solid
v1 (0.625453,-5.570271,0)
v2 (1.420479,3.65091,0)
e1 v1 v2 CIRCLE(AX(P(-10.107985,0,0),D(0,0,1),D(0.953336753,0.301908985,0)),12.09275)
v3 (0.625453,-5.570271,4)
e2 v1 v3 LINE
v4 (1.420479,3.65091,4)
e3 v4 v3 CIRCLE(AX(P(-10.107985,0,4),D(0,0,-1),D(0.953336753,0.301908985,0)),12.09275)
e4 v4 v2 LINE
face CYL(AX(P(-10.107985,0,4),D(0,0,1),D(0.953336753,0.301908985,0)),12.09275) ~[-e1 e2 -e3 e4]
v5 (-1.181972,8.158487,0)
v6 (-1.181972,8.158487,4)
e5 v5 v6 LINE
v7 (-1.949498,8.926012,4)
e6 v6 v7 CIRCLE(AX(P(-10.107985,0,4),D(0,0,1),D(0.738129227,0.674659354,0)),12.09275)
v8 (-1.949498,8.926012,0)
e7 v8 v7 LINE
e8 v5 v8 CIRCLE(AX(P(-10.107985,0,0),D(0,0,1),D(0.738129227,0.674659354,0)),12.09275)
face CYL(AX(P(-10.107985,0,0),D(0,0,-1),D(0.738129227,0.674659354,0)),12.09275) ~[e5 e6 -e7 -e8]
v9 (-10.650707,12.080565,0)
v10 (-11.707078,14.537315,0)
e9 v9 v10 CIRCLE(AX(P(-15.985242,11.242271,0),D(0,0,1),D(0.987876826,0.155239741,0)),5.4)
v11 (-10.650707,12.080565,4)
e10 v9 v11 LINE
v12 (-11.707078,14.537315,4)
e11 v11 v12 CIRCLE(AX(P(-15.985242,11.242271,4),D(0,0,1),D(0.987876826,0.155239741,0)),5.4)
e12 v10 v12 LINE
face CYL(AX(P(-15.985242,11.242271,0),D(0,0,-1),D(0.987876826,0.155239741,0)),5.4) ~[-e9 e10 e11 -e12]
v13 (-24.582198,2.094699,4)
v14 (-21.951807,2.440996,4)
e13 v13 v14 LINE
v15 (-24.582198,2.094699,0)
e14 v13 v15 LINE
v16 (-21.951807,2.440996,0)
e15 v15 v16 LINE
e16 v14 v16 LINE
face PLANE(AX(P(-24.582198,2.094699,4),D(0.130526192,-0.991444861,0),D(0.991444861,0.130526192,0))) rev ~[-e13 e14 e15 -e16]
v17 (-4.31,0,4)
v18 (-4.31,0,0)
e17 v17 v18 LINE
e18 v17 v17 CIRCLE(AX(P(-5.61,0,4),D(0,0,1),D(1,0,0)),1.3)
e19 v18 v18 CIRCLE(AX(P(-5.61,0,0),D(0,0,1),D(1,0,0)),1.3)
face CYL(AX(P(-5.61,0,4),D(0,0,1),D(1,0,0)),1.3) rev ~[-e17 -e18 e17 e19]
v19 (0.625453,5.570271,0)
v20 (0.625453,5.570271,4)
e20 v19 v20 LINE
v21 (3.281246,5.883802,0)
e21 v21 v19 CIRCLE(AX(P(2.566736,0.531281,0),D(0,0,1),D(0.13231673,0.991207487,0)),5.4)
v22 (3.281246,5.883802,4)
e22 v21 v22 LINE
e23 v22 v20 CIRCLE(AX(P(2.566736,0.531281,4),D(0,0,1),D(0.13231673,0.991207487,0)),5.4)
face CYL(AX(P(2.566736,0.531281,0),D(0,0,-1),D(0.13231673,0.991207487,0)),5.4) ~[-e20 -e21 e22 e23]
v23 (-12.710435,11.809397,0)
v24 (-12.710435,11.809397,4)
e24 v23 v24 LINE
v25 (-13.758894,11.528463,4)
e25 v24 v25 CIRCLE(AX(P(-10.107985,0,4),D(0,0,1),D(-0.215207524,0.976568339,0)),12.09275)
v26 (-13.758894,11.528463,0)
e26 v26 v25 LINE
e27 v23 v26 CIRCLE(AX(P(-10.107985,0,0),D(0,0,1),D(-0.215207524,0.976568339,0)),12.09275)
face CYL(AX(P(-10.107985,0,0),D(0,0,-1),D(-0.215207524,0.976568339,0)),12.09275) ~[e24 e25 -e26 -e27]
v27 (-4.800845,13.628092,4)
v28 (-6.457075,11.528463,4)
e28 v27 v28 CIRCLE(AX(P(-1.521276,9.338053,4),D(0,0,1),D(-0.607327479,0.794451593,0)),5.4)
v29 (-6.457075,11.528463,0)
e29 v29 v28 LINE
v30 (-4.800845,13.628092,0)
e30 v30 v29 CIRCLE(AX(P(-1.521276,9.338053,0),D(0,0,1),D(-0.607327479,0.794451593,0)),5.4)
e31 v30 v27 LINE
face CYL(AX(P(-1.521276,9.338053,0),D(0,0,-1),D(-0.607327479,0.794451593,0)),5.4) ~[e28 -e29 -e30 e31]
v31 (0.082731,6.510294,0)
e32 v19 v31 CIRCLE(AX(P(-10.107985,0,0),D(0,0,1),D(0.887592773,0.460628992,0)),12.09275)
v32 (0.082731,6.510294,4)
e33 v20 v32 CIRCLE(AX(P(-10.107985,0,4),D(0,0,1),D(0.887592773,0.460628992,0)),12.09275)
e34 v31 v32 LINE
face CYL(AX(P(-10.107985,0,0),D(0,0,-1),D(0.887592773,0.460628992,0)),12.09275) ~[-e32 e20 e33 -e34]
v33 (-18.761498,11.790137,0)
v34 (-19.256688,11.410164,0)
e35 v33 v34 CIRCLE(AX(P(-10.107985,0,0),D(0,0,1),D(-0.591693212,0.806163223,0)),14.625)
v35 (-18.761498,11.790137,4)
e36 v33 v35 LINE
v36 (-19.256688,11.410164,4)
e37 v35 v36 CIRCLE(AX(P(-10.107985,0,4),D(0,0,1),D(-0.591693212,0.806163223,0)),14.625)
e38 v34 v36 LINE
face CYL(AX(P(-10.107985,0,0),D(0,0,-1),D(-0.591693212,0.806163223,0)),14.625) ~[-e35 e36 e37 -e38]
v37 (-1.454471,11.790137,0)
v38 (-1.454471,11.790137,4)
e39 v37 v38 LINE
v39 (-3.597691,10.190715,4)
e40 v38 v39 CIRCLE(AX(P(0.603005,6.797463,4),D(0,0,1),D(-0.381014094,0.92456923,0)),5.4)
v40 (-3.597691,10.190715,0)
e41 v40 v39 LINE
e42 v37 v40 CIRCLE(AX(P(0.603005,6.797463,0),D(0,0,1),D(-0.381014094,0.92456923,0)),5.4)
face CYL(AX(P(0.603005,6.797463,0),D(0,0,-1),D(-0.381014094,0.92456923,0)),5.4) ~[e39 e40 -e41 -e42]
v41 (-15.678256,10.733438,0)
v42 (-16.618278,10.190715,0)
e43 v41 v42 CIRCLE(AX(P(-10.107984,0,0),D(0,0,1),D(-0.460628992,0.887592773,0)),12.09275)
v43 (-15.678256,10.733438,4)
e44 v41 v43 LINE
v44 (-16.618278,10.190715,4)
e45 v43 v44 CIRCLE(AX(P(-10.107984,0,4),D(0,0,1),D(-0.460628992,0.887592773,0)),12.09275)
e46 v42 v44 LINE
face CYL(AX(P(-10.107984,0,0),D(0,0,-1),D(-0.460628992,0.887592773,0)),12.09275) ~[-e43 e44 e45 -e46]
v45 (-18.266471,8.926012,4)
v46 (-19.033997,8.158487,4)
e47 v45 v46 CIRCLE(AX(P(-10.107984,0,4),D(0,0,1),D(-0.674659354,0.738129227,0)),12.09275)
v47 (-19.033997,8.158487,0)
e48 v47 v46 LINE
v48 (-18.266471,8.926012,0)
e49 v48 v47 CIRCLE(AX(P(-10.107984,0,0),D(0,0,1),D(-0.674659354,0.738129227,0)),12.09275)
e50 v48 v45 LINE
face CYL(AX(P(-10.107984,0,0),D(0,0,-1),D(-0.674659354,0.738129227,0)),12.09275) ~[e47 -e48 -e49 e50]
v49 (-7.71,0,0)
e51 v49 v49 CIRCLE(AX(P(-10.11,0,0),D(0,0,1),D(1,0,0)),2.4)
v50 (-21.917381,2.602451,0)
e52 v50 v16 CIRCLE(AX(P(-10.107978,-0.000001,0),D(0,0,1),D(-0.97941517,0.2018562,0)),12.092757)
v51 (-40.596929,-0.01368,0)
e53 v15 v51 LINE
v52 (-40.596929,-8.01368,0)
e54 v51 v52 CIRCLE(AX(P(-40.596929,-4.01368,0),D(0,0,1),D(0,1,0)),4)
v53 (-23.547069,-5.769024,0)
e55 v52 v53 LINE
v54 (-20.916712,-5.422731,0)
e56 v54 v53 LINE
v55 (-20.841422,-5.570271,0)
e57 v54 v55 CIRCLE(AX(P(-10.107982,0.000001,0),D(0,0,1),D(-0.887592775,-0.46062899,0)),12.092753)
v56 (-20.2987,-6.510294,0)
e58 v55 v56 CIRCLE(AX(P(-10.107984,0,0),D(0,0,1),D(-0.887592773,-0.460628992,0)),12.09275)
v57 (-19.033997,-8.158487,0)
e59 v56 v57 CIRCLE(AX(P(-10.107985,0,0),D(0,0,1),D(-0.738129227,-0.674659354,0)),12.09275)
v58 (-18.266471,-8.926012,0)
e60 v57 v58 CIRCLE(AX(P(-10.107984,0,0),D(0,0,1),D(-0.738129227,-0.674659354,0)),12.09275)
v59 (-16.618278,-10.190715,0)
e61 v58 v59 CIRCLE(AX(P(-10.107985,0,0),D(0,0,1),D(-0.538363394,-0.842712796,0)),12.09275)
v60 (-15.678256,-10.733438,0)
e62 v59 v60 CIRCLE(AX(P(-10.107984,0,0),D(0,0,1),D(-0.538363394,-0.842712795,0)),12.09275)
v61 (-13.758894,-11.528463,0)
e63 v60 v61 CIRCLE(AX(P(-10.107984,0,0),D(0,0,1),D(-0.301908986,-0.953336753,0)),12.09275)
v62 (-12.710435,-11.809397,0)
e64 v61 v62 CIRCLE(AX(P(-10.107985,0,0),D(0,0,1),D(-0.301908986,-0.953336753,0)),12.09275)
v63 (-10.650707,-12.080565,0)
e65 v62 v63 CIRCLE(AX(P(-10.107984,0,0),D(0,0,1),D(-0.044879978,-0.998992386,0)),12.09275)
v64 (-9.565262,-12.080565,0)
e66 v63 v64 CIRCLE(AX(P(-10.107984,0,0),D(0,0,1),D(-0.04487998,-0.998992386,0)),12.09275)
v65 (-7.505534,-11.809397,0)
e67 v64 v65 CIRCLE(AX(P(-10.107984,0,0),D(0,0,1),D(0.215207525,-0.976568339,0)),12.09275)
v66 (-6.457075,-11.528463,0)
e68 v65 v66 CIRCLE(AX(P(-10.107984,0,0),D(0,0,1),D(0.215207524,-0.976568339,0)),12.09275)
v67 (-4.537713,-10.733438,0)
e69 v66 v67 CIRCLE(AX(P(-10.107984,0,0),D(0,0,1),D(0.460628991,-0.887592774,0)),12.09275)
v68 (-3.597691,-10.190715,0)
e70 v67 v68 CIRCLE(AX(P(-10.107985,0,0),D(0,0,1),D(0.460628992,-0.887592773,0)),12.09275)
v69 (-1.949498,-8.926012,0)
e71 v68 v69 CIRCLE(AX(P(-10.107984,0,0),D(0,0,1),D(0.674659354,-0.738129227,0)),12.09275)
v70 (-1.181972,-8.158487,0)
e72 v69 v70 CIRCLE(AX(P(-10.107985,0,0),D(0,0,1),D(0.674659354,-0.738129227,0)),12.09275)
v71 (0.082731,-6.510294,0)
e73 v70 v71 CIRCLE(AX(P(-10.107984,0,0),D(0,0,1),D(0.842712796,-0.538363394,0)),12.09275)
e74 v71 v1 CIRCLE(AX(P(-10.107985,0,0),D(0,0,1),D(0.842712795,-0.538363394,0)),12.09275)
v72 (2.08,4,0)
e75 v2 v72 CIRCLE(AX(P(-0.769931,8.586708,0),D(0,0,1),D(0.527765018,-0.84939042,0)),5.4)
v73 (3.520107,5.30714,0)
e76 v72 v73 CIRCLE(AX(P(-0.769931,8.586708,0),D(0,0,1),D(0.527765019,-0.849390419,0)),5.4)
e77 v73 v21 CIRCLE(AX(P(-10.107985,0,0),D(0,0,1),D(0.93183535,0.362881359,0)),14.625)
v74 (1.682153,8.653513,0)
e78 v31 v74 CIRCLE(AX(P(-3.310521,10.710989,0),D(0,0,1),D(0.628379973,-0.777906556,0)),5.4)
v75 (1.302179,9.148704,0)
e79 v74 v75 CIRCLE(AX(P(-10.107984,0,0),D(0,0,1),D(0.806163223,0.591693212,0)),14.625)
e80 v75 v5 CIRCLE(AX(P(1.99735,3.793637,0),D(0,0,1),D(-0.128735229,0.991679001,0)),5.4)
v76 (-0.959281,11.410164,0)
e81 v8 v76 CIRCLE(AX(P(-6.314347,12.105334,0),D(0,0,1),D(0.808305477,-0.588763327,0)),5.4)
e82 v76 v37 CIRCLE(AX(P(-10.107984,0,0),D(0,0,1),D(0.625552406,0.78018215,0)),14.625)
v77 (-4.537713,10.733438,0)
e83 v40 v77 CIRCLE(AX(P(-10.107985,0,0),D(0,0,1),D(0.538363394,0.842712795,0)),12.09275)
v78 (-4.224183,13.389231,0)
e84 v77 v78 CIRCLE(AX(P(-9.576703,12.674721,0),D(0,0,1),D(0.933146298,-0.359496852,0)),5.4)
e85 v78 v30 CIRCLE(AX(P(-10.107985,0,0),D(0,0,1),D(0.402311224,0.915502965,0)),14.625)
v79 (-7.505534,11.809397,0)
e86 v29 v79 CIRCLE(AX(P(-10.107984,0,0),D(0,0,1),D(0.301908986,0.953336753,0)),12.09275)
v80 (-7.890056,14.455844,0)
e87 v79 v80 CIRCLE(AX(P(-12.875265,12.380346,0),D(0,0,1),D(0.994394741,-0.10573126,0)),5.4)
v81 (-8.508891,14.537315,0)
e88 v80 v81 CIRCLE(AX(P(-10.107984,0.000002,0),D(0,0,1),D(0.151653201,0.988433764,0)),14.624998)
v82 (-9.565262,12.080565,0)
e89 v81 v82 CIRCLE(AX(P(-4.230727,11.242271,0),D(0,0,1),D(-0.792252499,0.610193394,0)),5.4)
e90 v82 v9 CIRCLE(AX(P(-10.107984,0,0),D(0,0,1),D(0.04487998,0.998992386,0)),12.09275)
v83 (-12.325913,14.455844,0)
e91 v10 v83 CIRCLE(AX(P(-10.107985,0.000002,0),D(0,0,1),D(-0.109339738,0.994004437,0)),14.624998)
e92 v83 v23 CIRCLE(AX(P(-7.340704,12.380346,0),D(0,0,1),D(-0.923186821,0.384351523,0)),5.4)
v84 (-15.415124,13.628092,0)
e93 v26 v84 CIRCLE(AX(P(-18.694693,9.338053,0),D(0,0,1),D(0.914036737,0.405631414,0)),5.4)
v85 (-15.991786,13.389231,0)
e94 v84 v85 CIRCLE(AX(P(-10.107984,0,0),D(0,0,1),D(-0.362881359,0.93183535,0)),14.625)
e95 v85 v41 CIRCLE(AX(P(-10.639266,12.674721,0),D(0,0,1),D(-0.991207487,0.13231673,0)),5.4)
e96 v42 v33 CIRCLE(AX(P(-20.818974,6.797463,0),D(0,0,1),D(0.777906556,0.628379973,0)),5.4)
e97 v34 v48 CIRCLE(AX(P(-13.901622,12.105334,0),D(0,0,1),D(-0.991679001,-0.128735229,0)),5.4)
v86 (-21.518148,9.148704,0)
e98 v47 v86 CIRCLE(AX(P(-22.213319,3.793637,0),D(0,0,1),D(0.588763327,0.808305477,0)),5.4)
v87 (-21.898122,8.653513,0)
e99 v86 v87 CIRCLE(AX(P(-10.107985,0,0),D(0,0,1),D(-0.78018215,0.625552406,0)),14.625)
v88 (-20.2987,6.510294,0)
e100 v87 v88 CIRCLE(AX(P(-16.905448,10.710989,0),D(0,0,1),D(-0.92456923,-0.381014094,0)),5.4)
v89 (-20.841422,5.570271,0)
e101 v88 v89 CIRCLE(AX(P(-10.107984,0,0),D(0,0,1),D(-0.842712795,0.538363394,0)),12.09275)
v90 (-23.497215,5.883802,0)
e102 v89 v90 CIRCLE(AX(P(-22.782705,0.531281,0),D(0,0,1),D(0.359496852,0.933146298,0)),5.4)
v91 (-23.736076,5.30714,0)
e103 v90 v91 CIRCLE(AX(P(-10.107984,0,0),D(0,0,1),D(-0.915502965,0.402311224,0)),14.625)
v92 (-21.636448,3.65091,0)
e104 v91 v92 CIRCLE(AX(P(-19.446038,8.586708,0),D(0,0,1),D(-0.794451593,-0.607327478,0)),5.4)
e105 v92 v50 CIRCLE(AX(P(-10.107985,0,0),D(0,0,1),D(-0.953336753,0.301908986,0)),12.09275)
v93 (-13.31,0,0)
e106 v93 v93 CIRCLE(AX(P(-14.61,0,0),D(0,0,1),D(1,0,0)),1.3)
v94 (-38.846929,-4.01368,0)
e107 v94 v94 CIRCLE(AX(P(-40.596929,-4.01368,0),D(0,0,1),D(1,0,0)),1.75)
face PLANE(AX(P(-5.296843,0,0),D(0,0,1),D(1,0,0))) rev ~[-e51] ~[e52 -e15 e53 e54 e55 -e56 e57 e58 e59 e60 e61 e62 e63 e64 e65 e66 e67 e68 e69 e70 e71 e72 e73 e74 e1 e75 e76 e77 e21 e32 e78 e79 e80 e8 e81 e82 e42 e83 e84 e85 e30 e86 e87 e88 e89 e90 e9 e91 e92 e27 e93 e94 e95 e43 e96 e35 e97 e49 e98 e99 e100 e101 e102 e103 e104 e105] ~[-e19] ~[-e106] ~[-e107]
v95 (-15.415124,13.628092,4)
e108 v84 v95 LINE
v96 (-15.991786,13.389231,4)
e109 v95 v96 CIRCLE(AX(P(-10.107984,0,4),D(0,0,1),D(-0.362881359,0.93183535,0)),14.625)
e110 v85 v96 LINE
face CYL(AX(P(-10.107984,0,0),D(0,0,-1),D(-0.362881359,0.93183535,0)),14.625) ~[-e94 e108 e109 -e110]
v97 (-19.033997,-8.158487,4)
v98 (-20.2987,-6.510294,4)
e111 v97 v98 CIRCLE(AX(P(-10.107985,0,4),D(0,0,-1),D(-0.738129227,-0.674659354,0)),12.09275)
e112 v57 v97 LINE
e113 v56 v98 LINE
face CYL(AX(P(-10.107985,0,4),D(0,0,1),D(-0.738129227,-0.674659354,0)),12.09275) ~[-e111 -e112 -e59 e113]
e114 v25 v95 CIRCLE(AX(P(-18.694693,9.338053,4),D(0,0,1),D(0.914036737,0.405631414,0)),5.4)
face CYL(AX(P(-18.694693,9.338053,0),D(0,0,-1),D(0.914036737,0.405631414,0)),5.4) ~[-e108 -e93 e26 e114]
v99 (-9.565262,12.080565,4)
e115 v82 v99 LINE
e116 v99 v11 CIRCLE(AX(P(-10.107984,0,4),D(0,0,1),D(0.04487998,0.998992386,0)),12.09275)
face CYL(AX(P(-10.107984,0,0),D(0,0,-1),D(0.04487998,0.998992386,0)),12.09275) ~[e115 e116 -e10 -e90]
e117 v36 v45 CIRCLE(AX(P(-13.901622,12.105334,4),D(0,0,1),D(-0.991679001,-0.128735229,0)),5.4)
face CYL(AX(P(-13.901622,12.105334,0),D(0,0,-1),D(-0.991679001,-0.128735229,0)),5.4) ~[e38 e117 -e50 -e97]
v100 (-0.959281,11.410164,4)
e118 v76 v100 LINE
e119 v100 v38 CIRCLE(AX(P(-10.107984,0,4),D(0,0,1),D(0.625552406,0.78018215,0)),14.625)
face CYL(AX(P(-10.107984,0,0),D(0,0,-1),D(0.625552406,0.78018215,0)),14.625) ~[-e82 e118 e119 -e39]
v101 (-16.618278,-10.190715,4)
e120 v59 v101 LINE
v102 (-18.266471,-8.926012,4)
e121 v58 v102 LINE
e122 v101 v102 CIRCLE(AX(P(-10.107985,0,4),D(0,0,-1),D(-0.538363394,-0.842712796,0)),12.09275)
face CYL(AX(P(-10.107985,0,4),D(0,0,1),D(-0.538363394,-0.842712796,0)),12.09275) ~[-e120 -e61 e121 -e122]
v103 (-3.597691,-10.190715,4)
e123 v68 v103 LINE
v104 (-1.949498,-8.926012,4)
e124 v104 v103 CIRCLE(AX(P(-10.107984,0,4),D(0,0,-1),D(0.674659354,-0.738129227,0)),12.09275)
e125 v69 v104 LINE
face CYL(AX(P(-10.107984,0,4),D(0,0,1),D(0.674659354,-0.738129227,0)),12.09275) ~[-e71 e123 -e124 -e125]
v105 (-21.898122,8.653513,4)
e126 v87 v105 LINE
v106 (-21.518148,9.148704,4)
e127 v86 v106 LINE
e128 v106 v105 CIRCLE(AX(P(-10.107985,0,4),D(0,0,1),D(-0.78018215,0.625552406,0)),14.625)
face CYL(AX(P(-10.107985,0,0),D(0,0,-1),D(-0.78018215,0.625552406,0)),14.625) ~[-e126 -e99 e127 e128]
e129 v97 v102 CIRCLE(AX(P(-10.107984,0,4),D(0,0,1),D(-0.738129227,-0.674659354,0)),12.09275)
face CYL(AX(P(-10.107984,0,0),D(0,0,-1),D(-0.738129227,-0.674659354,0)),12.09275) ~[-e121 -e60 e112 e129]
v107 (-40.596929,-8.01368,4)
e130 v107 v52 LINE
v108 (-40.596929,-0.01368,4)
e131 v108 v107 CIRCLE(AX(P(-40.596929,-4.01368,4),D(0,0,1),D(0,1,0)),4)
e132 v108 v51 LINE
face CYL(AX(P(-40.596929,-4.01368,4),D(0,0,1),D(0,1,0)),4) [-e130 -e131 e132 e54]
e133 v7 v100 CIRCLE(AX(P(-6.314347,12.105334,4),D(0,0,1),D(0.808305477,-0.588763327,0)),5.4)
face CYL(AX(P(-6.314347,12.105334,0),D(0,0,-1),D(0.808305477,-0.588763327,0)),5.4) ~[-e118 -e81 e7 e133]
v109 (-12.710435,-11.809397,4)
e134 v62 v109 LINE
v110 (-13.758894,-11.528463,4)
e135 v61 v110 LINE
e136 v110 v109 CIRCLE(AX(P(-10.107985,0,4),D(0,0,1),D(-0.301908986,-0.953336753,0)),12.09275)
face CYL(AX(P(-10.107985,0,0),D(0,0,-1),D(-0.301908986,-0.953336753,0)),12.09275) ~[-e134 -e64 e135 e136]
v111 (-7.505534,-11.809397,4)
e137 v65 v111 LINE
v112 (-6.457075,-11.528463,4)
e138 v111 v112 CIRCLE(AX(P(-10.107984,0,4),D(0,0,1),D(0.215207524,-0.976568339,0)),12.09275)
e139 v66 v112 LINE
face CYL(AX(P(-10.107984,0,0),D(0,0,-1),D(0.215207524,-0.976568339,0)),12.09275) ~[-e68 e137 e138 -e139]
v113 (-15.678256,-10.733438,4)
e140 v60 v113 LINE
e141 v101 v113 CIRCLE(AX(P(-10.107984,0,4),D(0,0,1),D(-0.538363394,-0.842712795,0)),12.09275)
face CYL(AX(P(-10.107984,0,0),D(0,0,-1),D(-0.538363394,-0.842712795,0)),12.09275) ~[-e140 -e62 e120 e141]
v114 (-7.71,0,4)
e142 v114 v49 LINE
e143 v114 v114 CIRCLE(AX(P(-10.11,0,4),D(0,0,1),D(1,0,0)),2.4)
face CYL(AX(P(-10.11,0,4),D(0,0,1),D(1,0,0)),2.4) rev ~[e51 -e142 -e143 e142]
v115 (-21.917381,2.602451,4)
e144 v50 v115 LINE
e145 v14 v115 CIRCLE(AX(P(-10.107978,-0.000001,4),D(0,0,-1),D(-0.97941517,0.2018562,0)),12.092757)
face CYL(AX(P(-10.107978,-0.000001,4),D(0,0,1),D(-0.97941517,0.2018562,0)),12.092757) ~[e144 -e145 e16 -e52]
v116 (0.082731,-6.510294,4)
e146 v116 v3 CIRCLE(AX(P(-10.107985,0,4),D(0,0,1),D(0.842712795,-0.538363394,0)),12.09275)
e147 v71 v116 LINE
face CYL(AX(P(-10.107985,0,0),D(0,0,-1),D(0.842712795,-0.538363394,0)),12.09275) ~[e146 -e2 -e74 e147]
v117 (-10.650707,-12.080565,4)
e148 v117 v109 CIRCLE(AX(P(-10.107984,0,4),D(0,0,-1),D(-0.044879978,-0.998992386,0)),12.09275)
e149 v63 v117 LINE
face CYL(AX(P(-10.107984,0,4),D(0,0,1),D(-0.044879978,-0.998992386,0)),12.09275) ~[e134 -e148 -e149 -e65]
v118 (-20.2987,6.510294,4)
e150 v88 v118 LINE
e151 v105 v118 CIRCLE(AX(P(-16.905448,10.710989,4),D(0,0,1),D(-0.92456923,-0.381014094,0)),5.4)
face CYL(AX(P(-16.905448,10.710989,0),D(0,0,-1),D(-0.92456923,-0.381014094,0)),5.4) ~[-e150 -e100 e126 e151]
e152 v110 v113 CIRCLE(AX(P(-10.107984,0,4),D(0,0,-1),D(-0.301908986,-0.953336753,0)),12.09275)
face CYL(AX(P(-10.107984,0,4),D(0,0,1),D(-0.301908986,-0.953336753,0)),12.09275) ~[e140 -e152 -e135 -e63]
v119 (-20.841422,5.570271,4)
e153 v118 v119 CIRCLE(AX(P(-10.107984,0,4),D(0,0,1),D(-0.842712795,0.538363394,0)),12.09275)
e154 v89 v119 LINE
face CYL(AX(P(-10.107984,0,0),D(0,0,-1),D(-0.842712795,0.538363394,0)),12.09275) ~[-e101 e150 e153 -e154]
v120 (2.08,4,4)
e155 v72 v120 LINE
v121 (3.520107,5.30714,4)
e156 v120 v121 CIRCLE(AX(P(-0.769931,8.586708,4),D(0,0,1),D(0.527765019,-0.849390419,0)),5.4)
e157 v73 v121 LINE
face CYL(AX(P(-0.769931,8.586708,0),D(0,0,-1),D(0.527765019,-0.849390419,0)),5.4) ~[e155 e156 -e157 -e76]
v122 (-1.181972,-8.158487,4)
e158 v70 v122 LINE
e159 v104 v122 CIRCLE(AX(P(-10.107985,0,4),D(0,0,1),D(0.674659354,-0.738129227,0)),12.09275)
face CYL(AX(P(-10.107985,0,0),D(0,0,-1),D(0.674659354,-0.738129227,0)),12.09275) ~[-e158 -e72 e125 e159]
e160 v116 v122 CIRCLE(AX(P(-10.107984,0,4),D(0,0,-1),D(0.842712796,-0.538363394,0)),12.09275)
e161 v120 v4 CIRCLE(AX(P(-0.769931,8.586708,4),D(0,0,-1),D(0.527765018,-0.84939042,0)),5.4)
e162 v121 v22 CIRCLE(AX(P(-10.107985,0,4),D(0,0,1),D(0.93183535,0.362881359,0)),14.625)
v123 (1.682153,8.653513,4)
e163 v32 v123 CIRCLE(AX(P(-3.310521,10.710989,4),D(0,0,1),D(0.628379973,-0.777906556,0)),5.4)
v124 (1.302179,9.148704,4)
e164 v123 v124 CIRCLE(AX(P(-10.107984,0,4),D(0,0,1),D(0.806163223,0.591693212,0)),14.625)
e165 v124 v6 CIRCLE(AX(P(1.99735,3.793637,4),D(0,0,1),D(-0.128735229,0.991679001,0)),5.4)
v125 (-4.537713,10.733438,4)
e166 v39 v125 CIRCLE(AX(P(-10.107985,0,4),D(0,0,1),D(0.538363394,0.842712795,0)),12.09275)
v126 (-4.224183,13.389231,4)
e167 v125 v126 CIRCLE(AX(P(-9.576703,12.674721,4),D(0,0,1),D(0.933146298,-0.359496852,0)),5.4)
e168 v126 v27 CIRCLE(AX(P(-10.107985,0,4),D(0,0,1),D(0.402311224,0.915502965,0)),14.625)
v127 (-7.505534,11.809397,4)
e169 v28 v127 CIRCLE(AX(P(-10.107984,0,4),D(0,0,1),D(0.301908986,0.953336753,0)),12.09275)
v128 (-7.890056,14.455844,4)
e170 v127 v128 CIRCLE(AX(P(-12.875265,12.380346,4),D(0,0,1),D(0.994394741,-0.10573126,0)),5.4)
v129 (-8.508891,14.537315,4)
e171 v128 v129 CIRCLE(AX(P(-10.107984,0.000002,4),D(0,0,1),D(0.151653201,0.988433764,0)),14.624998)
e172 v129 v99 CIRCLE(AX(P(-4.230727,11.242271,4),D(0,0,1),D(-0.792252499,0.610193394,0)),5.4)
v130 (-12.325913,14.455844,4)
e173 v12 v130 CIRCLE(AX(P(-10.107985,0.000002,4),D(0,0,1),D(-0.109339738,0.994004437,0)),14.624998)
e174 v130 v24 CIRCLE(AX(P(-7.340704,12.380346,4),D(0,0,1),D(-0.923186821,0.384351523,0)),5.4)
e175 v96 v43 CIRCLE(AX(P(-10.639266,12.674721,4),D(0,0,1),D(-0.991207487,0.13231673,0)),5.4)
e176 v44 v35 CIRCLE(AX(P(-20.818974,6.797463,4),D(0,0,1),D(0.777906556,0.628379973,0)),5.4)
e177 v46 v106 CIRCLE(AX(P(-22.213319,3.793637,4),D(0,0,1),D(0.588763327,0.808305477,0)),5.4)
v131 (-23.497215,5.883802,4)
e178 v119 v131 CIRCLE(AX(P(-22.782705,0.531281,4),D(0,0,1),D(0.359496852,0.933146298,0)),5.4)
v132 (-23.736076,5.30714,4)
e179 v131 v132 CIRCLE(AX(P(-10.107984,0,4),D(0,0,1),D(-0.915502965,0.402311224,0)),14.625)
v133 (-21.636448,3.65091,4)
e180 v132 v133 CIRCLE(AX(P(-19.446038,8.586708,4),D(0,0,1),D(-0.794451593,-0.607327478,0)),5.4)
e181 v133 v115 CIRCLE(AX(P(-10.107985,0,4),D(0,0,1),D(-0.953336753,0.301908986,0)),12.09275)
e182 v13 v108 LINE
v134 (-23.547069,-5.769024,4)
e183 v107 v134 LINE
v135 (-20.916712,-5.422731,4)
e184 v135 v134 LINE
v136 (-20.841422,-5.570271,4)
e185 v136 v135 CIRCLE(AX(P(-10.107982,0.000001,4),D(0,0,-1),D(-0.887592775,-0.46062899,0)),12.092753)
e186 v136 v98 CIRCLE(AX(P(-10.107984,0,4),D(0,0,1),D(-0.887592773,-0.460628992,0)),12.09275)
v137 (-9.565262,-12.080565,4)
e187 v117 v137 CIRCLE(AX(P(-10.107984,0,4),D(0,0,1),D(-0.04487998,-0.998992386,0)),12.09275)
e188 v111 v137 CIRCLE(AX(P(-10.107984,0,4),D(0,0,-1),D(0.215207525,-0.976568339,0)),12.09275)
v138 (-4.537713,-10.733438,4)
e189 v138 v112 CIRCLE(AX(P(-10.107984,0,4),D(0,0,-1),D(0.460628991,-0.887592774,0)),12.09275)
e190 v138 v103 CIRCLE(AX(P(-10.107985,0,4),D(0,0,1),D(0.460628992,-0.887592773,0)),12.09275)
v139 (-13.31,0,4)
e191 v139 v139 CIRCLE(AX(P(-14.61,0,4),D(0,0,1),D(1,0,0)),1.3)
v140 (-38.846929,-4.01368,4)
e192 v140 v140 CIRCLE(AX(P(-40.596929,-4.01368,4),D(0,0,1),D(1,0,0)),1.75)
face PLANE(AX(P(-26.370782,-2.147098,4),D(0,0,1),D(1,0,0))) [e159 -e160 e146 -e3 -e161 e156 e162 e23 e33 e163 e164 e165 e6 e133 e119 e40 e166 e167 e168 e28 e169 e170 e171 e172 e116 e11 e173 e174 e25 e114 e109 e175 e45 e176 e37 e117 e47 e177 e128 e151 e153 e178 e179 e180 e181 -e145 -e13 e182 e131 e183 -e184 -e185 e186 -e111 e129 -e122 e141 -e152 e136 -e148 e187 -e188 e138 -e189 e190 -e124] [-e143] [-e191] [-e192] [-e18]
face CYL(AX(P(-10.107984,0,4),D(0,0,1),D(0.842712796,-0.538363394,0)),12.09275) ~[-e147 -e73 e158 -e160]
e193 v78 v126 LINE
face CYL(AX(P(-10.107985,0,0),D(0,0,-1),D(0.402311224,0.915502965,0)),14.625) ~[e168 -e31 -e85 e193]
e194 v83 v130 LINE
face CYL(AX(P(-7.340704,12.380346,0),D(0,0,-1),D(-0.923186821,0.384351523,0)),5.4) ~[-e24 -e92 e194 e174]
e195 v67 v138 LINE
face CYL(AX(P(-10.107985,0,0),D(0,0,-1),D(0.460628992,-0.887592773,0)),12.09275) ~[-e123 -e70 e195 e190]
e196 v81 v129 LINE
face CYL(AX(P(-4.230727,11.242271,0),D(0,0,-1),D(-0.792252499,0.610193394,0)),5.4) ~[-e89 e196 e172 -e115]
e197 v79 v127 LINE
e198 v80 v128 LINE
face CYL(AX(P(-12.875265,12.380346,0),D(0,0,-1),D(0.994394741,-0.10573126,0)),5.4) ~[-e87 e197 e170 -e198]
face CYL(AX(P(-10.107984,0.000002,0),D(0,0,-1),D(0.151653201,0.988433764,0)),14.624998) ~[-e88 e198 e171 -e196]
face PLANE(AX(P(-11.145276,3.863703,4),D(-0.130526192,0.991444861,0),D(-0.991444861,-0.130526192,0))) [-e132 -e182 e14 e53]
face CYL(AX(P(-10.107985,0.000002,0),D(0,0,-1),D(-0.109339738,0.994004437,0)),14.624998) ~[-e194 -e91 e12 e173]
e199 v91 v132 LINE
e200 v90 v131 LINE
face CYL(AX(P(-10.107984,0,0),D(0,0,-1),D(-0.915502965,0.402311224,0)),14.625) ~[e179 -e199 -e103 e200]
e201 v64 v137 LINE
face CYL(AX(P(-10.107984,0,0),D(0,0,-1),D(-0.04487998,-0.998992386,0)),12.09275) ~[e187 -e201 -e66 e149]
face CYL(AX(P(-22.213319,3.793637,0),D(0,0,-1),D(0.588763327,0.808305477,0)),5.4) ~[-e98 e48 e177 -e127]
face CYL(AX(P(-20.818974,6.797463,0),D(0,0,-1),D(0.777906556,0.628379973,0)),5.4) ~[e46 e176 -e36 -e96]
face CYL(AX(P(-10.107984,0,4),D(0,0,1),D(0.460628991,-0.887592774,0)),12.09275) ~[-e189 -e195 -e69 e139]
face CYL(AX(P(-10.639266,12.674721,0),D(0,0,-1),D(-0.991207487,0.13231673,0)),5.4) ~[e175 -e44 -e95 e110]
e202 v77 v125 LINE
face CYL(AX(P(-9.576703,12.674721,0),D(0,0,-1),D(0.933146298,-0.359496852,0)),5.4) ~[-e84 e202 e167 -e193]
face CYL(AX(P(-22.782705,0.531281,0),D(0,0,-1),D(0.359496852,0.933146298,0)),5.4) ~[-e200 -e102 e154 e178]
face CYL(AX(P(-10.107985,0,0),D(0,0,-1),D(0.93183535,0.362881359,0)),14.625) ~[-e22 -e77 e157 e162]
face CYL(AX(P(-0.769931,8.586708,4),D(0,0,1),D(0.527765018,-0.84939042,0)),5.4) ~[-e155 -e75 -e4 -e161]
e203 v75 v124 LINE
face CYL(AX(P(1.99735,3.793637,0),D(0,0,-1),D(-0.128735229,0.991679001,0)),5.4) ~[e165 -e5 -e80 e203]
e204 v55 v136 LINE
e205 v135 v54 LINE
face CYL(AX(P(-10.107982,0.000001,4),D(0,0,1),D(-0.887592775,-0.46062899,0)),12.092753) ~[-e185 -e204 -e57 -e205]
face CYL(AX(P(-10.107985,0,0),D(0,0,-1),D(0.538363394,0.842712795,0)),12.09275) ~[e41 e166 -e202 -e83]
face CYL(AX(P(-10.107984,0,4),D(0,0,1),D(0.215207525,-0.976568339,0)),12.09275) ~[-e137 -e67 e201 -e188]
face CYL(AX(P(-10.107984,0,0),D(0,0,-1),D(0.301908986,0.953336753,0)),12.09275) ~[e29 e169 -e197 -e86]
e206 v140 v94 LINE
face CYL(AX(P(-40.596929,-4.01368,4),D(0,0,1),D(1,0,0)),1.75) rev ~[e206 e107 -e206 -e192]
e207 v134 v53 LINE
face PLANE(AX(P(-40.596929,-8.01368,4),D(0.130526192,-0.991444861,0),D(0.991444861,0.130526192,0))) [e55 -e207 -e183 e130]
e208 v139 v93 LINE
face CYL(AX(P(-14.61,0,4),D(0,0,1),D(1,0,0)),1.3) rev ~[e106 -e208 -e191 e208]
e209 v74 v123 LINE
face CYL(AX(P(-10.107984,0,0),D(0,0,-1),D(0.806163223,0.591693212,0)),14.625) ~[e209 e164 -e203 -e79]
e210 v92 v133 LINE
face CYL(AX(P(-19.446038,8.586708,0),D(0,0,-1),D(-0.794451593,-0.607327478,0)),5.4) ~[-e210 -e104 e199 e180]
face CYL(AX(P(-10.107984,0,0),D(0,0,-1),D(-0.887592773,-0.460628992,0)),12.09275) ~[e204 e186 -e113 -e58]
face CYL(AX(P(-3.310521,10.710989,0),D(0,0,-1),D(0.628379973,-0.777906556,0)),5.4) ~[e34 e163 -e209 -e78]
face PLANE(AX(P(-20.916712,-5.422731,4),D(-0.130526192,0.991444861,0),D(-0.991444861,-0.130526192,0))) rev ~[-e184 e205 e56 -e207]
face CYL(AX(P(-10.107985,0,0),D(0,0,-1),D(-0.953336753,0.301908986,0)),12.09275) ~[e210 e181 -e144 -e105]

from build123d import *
from build123d.topology import SkipClean

# Parameters (mm, degrees)
SKETCH1_R           = 1.5
BOSS_EXTRUDE1_DEPTH = 4
SKETCH2_R           = 1.75
BOSS_EXTRUDE2_DEPTH = 4
CUT_EXTRUDE1_DEPTH  = 48.07674207
SKETCH4_R           = 2.4
SKETCH4_R_2         = 1.3
CUT_EXTRUDE2_DEPTH  = 48.07674207


with BuildPart() as part:
    # Sketch1 → Boss-Extrude1 (new body)
    with BuildSketch(Plane.XY):
        with BuildLine():
            Line((20.64, 4), (2.08, 4))
            ThreePointArc((2.08, 4), (2.859386397, 4.588201733), (3.5201075, 5.30713988))
            ThreePointArc((3.5201075, 5.30713988), (3.403753673, 5.596745198), (3.281246369, 5.883801663))
            ThreePointArc((3.281246369, 5.883801663), (1.933634043, 5.894040025), (0.625453025, 5.57027124))
            ThreePointArc((0.625453025, 5.57027124), (0.364644212, 6.046375), (0.082730667, 6.510293938))
            ThreePointArc((0.082730667, 6.510293938), (1.017213169, 7.48132754), (1.68215265, 8.65351323))
            ThreePointArc((1.68215265, 8.65351323), (1.494808112, 8.903135899), (1.302179463, 9.148703928))
            ThreePointArc((1.302179463, 9.148703928), (-0.002163969, 8.809805691), (-1.181972273, 8.158486898))
            ThreePointArc((-1.181972273, 8.158486898), (-1.557118962, 8.550865528), (-1.949497592, 8.926012217))
            ThreePointArc((-1.949497592, 8.926012217), (-1.298178799, 10.105820521), (-0.959280562, 11.410163953))
            ThreePointArc((-0.959280562, 11.410163953), (-1.204848591, 11.602792602), (-1.45447126, 11.79013714))
            ThreePointArc((-1.45447126, 11.79013714), (-2.62665695, 11.125197659), (-3.597690552, 10.190715157))
            ThreePointArc((-3.597690552, 10.190715157), (-4.06160949, 10.472628702), (-4.53771325, 10.733437515))
            ThreePointArc((-4.53771325, 10.733437515), (-4.213944465, 12.041618533), (-4.224182827, 13.389230859))
            ThreePointArc((-4.224182827, 13.389230859), (-4.511239292, 13.511738163), (-4.80084461, 13.62809199))
            ThreePointArc((-4.80084461, 13.62809199), (-5.760990039, 12.682425791), (-6.457074605, 11.528463019))
            ThreePointArc((-6.457074605, 11.528463019), (-6.978150482, 11.680699536), (-7.505533688, 11.809396783))
            ThreePointArc((-7.505533688, 11.809396783), (-7.531379219, 13.156800143), (-7.890056453, 14.455843809))
            ThreePointArc((-7.890056453, 14.455843809), (-8.199038929, 14.499881098), (-8.508890771, 14.537314892))
            ThreePointArc((-8.508890771, 14.537314892), (-9.191563616, 13.375367565), (-9.565262132, 12.080565177))
            ThreePointArc((-9.565262132, 12.080565177), (-10.10798449, 12.09275), (-10.650706848, 12.080565177))
            ThreePointArc((-10.650706848, 12.080565177), (-11.024405364, 13.375367565), (-11.707078209, 14.537314892))
            ThreePointArc((-11.707078209, 14.537314892), (-12.016930051, 14.499881098), (-12.325912527, 14.455843809))
            ThreePointArc((-12.325912527, 14.455843809), (-12.684589761, 13.156800143), (-12.710435292, 11.809396783))
            ThreePointArc((-12.710435292, 11.809396783), (-13.237818498, 11.680699536), (-13.758894375, 11.528463019))
            ThreePointArc((-13.758894375, 11.528463019), (-14.454978941, 12.682425791), (-15.41512437, 13.62809199))
            ThreePointArc((-15.41512437, 13.62809199), (-15.704729688, 13.511738163), (-15.991786153, 13.389230859))
            ThreePointArc((-15.991786153, 13.389230859), (-16.002024515, 12.041618533), (-15.67825573, 10.733437515))
            ThreePointArc((-15.67825573, 10.733437515), (-16.15435949, 10.472628702), (-16.618278428, 10.190715157))
            ThreePointArc((-16.618278428, 10.190715157), (-17.58931203, 11.125197659), (-18.76149772, 11.79013714))
            ThreePointArc((-18.76149772, 11.79013714), (-19.011120389, 11.602792602), (-19.256688418, 11.410163953))
            ThreePointArc((-19.256688418, 11.410163953), (-18.917790181, 10.105820521), (-18.266471388, 8.926012217))
            ThreePointArc((-18.266471388, 8.926012217), (-18.658850018, 8.550865528), (-19.033996707, 8.158486898))
            ThreePointArc((-19.033996707, 8.158486898), (-20.213805011, 8.809805691), (-21.518148443, 9.148703928))
            ThreePointArc((-21.518148443, 9.148703928), (-21.710777092, 8.903135899), (-21.89812163, 8.65351323))
            ThreePointArc((-21.89812163, 8.65351323), (-21.233182149, 7.48132754), (-20.298699647, 6.510293938))
            ThreePointArc((-20.298699647, 6.510293938), (-20.580613192, 6.046375), (-20.841422005, 5.57027124))
            ThreePointArc((-20.841422005, 5.57027124), (-22.149603023, 5.894040025), (-23.497215349, 5.883801663))
            ThreePointArc((-23.497215349, 5.883801663), (-23.619722653, 5.596745198), (-23.73607648, 5.30713988))
            ThreePointArc((-23.73607648, 5.30713988), (-22.790410282, 4.346994451), (-21.636447509, 3.650909885))
            ThreePointArc((-21.636447509, 3.650909885), (-21.788684026, 3.129834008), (-21.917381273, 2.602450802))
            ThreePointArc((-21.917381273, 2.602450802), (-23.264784633, 2.576605271), (-24.563828299, 2.217928037))
            ThreePointArc((-24.563828299, 2.217928037), (-24.607865588, 1.908945561), (-24.645299382, 1.599093719))
            ThreePointArc((-24.645299382, 1.599093719), (-23.483352055, 0.916420874), (-22.188549667, 0.542722358))
            ThreePointArc((-22.188549667, 0.542722358), (-22.20073449, 0), (-22.188549667, -0.542722358))
            ThreePointArc((-22.188549667, -0.542722358), (-23.483352055, -0.916420874), (-24.645299382, -1.599093719))
            ThreePointArc((-24.645299382, -1.599093719), (-24.607865588, -1.908945561), (-24.563828299, -2.217928037))
            ThreePointArc((-24.563828299, -2.217928037), (-23.264784633, -2.576605271), (-21.917381273, -2.602450802))
            ThreePointArc((-21.917381273, -2.602450802), (-21.788684026, -3.129834008), (-21.636447509, -3.650909885))
            ThreePointArc((-21.636447509, -3.650909885), (-22.790410282, -4.346994451), (-23.73607648, -5.30713988))
            ThreePointArc((-23.73607648, -5.30713988), (-23.619722653, -5.596745198), (-23.497215349, -5.883801663))
            ThreePointArc((-23.497215349, -5.883801663), (-22.149603023, -5.894040025), (-20.841422005, -5.57027124))
            ThreePointArc((-20.841422005, -5.57027124), (-20.580613192, -6.046375), (-20.298699647, -6.510293938))
            ThreePointArc((-20.298699647, -6.510293938), (-21.233182149, -7.48132754), (-21.89812163, -8.65351323))
            ThreePointArc((-21.89812163, -8.65351323), (-21.710777092, -8.903135899), (-21.518148443, -9.148703928))
            ThreePointArc((-21.518148443, -9.148703928), (-20.213805011, -8.809805691), (-19.033996707, -8.158486898))
            ThreePointArc((-19.033996707, -8.158486898), (-18.658850018, -8.550865528), (-18.266471388, -8.926012217))
            ThreePointArc((-18.266471388, -8.926012217), (-18.917790181, -10.105820521), (-19.256688418, -11.410163953))
            ThreePointArc((-19.256688418, -11.410163953), (-19.011120389, -11.602792602), (-18.76149772, -11.79013714))
            ThreePointArc((-18.76149772, -11.79013714), (-17.58931203, -11.125197659), (-16.618278428, -10.190715157))
            ThreePointArc((-16.618278428, -10.190715157), (-16.15435949, -10.472628702), (-15.67825573, -10.733437515))
            ThreePointArc((-15.67825573, -10.733437515), (-16.002024515, -12.041618533), (-15.991786153, -13.389230859))
            ThreePointArc((-15.991786153, -13.389230859), (-15.704729688, -13.511738163), (-15.41512437, -13.62809199))
            ThreePointArc((-15.41512437, -13.62809199), (-14.454978941, -12.682425791), (-13.758894375, -11.528463019))
            ThreePointArc((-13.758894375, -11.528463019), (-13.237818498, -11.680699536), (-12.710435292, -11.809396783))
            ThreePointArc((-12.710435292, -11.809396783), (-12.684589761, -13.156800143), (-12.325912527, -14.455843809))
            ThreePointArc((-12.325912527, -14.455843809), (-12.016930051, -14.499881098), (-11.707078209, -14.537314892))
            ThreePointArc((-11.707078209, -14.537314892), (-11.024405364, -13.375367565), (-10.650706848, -12.080565177))
            ThreePointArc((-10.650706848, -12.080565177), (-10.10798449, -12.09275), (-9.565262132, -12.080565177))
            ThreePointArc((-9.565262132, -12.080565177), (-9.191563616, -13.375367565), (-8.508890771, -14.537314892))
            ThreePointArc((-8.508890771, -14.537314892), (-8.199038929, -14.499881098), (-7.890056453, -14.455843809))
            ThreePointArc((-7.890056453, -14.455843809), (-7.531379219, -13.156800143), (-7.505533688, -11.809396783))
            ThreePointArc((-7.505533688, -11.809396783), (-6.978150482, -11.680699536), (-6.457074605, -11.528463019))
            ThreePointArc((-6.457074605, -11.528463019), (-5.760990039, -12.682425791), (-4.80084461, -13.62809199))
            ThreePointArc((-4.80084461, -13.62809199), (-4.511239292, -13.511738163), (-4.224182827, -13.389230859))
            ThreePointArc((-4.224182827, -13.389230859), (-4.213944465, -12.041618533), (-4.53771325, -10.733437515))
            ThreePointArc((-4.53771325, -10.733437515), (-4.06160949, -10.472628702), (-3.597690552, -10.190715157))
            ThreePointArc((-3.597690552, -10.190715157), (-2.62665695, -11.125197659), (-1.45447126, -11.79013714))
            ThreePointArc((-1.45447126, -11.79013714), (-1.204848591, -11.602792602), (-0.959280562, -11.410163953))
            ThreePointArc((-0.959280562, -11.410163953), (-1.298178799, -10.105820521), (-1.949497592, -8.926012217))
            ThreePointArc((-1.949497592, -8.926012217), (-1.557118962, -8.550865528), (-1.181972273, -8.158486898))
            ThreePointArc((-1.181972273, -8.158486898), (-0.002163969, -8.809805691), (1.302179463, -9.148703928))
            ThreePointArc((1.302179463, -9.148703928), (1.494808112, -8.903135899), (1.68215265, -8.65351323))
            ThreePointArc((1.68215265, -8.65351323), (1.017213169, -7.48132754), (0.082730667, -6.510293938))
            ThreePointArc((0.082730667, -6.510293938), (0.364644212, -6.046375), (0.625453025, -5.57027124))
            ThreePointArc((0.625453025, -5.57027124), (1.933634043, -5.894040025), (3.281246369, -5.883801663))
            ThreePointArc((3.281246369, -5.883801663), (3.403753673, -5.596745198), (3.5201075, -5.30713988))
            ThreePointArc((3.5201075, -5.30713988), (2.859386397, -4.588201733), (2.08, -4))
            Line((2.08, -4), (20.64, -4))
            ThreePointArc((20.64, -4), (24.64, 0), (20.64, 4))
        make_face()
        with Locations((-10.11, 0)):
            Circle(SKETCH1_R, mode=Mode.SUBTRACT)
        with Locations((20.64, 0)):
            Circle(SKETCH1_R, mode=Mode.SUBTRACT)
    extrude(amount=BOSS_EXTRUDE1_DEPTH)

    # Sketch2 → Boss-Extrude2 (add)
    with BuildSketch(Plane.XY.offset(4)):
        with BuildLine():
            ThreePointArc((-10.11, -4), (-14.075779445, -0.522104769), (-11.14527618, 3.863703305))
            Line((-11.14527618, 3.863703305), (-40.596929487, -0.013680411))
            ThreePointArc((-40.596929487, -0.013680411), (-44.596929487, -4.013680411), (-40.596929487, -8.013680411))
            Line((-40.596929487, -8.013680411), (-10.11, -4))
        make_face()
        with Locations((-40.596929487, -4.013680411)):
            Circle(SKETCH2_R, mode=Mode.SUBTRACT)
    extrude(amount=-BOSS_EXTRUDE2_DEPTH)

    # Sketch3 → Cut-Extrude1 (cut, through all)
    with SkipClean():  # the faces are left unmerged after this step: merging them gives an invalid solid
        with BuildSketch(Plane.XY.offset(4)):
            with BuildLine():
                ThreePointArc((-24.563828299, 2.217928037), (-24.573144452, 2.156333064), (-24.582198156, 2.094698967))
                Line((-24.582198156, 2.094698967), (-21.951807297, 2.440996493))
                ThreePointArc((-21.951807297, 2.440996493), (-21.934869799, 2.521782394), (-21.917381273, 2.602450802))
                ThreePointArc((-21.917381273, 2.602450802), (-23.264784633, 2.576605271), (-24.563828299, 2.217928037))
            make_face()
            with BuildLine():
                ThreePointArc((-20.841422005, -5.57027124), (-20.879319726, -5.496629859), (-20.916712206, -5.422730653))
                Line((-20.916712206, -5.422730653), (-23.547068935, -5.769023686))
                ThreePointArc((-23.547068935, -5.769023686), (-23.522264903, -5.826465995), (-23.497215349, -5.883801663))
                ThreePointArc((-23.497215349, -5.883801663), (-22.149603023, -5.894040025), (-20.841422005, -5.57027124))
            make_face()
            with BuildLine():
                ThreePointArc((1.420478529, 3.650909885), (1.94006926, -1.03875088), (0.625453025, -5.57027124))
                ThreePointArc((0.625453025, -5.57027124), (1.933634043, -5.894040025), (3.281246369, -5.883801663))
                ThreePointArc((3.281246369, -5.883801663), (3.403753673, -5.596745198), (3.5201075, -5.30713988))
                ThreePointArc((3.5201075, -5.30713988), (2.859386397, -4.588201733), (2.08, -4))
                Line((2.08, -4), (20.64, -4))
                ThreePointArc((20.64, -4), (24.64, 0), (20.64, 4))
                Line((20.64, 4), (2.08, 4))
                ThreePointArc((2.08, 4), (1.756276461, 3.814049117), (1.420478529, 3.650909885))
            make_face()
            with BuildLine():
                ThreePointArc((0.082730667, -6.510293938), (-0.514160884, -7.361599771), (-1.181972273, -8.158486898))
                ThreePointArc((-1.181972273, -8.158486898), (-0.002163969, -8.809805691), (1.302179463, -9.148703928))
                ThreePointArc((1.302179463, -9.148703928), (1.494808112, -8.903135899), (1.68215265, -8.65351323))
                ThreePointArc((1.68215265, -8.65351323), (1.017213169, -7.48132754), (0.082730667, -6.510293938))
            make_face()
            with BuildLine():
                ThreePointArc((-1.949497592, -8.926012217), (-2.746384719, -9.593823606), (-3.597690552, -10.190715157))
                ThreePointArc((-3.597690552, -10.190715157), (-2.62665695, -11.125197659), (-1.45447126, -11.79013714))
                ThreePointArc((-1.45447126, -11.79013714), (-1.204848591, -11.602792602), (-0.959280562, -11.410163953))
                ThreePointArc((-0.959280562, -11.410163953), (-1.298178799, -10.105820521), (-1.949497592, -8.926012217))
            make_face()
            with BuildLine():
                ThreePointArc((-4.53771325, -10.733437515), (-5.480289413, -11.172244217), (-6.457074605, -11.528463019))
                ThreePointArc((-6.457074605, -11.528463019), (-5.760990039, -12.682425791), (-4.80084461, -13.62809199))
                ThreePointArc((-4.80084461, -13.62809199), (-4.511239292, -13.511738163), (-4.224182827, -13.389230859))
                ThreePointArc((-4.224182827, -13.389230859), (-4.213944465, -12.041618533), (-4.53771325, -10.733437515))
            make_face()
            with BuildLine():
                ThreePointArc((-7.505533688, -11.809396783), (-8.529563879, -11.989294847), (-9.565262132, -12.080565177))
                ThreePointArc((-9.565262132, -12.080565177), (-9.191563616, -13.375367565), (-8.508890771, -14.537314892))
                ThreePointArc((-8.508890771, -14.537314892), (-8.199038929, -14.499881098), (-7.890056453, -14.455843809))
                ThreePointArc((-7.890056453, -14.455843809), (-7.531379219, -13.156800143), (-7.505533688, -11.809396783))
            make_face()
            with BuildLine():
                ThreePointArc((-10.650706848, -12.080565177), (-11.686405101, -11.989294847), (-12.710435292, -11.809396783))
                ThreePointArc((-12.710435292, -11.809396783), (-12.684589761, -13.156800143), (-12.325912527, -14.455843809))
                ThreePointArc((-12.325912527, -14.455843809), (-12.016930051, -14.499881098), (-11.707078209, -14.537314892))
                ThreePointArc((-11.707078209, -14.537314892), (-11.024405364, -13.375367565), (-10.650706848, -12.080565177))
            make_face()
            with BuildLine():
                ThreePointArc((-13.758894375, -11.528463019), (-14.735679567, -11.172244217), (-15.67825573, -10.733437515))
                ThreePointArc((-15.67825573, -10.733437515), (-16.002024515, -12.041618533), (-15.991786153, -13.389230859))
                ThreePointArc((-15.991786153, -13.389230859), (-15.704729688, -13.511738163), (-15.41512437, -13.62809199))
                ThreePointArc((-15.41512437, -13.62809199), (-14.454978941, -12.682425791), (-13.758894375, -11.528463019))
            make_face()
            with BuildLine():
                ThreePointArc((-16.618278428, -10.190715157), (-17.469584261, -9.593823606), (-18.266471388, -8.926012217))
                ThreePointArc((-18.266471388, -8.926012217), (-18.917790181, -10.105820521), (-19.256688418, -11.410163953))
                ThreePointArc((-19.256688418, -11.410163953), (-19.011120389, -11.602792602), (-18.76149772, -11.79013714))
                ThreePointArc((-18.76149772, -11.79013714), (-17.58931203, -11.125197659), (-16.618278428, -10.190715157))
            make_face()
            with BuildLine():
                ThreePointArc((-19.033996707, -8.158486898), (-19.701808096, -7.361599771), (-20.298699647, -6.510293938))
                ThreePointArc((-20.298699647, -6.510293938), (-21.233182149, -7.48132754), (-21.89812163, -8.65351323))
                ThreePointArc((-21.89812163, -8.65351323), (-21.710777092, -8.903135899), (-21.518148443, -9.148703928))
                ThreePointArc((-21.518148443, -9.148703928), (-20.213805011, -8.809805691), (-19.033996707, -8.158486898))
            make_face()
        extrude(amount=-CUT_EXTRUDE1_DEPTH, mode=Mode.SUBTRACT)

    # Sketch4 → Cut-Extrude2 (cut, through all)
    with SkipClean():  # the faces are left unmerged after this step: merging them gives an invalid solid
        with BuildSketch(Plane.XY.offset(4)):
            with Locations((-10.11, 0)):
                Circle(SKETCH4_R)
            with Locations((-5.61, 0)):
                Circle(SKETCH4_R_2)
            with Locations((-14.61, 0)):
                Circle(SKETCH4_R_2)
        extrude(amount=-CUT_EXTRUDE2_DEPTH, mode=Mode.SUBTRACT)


solid = part.part
